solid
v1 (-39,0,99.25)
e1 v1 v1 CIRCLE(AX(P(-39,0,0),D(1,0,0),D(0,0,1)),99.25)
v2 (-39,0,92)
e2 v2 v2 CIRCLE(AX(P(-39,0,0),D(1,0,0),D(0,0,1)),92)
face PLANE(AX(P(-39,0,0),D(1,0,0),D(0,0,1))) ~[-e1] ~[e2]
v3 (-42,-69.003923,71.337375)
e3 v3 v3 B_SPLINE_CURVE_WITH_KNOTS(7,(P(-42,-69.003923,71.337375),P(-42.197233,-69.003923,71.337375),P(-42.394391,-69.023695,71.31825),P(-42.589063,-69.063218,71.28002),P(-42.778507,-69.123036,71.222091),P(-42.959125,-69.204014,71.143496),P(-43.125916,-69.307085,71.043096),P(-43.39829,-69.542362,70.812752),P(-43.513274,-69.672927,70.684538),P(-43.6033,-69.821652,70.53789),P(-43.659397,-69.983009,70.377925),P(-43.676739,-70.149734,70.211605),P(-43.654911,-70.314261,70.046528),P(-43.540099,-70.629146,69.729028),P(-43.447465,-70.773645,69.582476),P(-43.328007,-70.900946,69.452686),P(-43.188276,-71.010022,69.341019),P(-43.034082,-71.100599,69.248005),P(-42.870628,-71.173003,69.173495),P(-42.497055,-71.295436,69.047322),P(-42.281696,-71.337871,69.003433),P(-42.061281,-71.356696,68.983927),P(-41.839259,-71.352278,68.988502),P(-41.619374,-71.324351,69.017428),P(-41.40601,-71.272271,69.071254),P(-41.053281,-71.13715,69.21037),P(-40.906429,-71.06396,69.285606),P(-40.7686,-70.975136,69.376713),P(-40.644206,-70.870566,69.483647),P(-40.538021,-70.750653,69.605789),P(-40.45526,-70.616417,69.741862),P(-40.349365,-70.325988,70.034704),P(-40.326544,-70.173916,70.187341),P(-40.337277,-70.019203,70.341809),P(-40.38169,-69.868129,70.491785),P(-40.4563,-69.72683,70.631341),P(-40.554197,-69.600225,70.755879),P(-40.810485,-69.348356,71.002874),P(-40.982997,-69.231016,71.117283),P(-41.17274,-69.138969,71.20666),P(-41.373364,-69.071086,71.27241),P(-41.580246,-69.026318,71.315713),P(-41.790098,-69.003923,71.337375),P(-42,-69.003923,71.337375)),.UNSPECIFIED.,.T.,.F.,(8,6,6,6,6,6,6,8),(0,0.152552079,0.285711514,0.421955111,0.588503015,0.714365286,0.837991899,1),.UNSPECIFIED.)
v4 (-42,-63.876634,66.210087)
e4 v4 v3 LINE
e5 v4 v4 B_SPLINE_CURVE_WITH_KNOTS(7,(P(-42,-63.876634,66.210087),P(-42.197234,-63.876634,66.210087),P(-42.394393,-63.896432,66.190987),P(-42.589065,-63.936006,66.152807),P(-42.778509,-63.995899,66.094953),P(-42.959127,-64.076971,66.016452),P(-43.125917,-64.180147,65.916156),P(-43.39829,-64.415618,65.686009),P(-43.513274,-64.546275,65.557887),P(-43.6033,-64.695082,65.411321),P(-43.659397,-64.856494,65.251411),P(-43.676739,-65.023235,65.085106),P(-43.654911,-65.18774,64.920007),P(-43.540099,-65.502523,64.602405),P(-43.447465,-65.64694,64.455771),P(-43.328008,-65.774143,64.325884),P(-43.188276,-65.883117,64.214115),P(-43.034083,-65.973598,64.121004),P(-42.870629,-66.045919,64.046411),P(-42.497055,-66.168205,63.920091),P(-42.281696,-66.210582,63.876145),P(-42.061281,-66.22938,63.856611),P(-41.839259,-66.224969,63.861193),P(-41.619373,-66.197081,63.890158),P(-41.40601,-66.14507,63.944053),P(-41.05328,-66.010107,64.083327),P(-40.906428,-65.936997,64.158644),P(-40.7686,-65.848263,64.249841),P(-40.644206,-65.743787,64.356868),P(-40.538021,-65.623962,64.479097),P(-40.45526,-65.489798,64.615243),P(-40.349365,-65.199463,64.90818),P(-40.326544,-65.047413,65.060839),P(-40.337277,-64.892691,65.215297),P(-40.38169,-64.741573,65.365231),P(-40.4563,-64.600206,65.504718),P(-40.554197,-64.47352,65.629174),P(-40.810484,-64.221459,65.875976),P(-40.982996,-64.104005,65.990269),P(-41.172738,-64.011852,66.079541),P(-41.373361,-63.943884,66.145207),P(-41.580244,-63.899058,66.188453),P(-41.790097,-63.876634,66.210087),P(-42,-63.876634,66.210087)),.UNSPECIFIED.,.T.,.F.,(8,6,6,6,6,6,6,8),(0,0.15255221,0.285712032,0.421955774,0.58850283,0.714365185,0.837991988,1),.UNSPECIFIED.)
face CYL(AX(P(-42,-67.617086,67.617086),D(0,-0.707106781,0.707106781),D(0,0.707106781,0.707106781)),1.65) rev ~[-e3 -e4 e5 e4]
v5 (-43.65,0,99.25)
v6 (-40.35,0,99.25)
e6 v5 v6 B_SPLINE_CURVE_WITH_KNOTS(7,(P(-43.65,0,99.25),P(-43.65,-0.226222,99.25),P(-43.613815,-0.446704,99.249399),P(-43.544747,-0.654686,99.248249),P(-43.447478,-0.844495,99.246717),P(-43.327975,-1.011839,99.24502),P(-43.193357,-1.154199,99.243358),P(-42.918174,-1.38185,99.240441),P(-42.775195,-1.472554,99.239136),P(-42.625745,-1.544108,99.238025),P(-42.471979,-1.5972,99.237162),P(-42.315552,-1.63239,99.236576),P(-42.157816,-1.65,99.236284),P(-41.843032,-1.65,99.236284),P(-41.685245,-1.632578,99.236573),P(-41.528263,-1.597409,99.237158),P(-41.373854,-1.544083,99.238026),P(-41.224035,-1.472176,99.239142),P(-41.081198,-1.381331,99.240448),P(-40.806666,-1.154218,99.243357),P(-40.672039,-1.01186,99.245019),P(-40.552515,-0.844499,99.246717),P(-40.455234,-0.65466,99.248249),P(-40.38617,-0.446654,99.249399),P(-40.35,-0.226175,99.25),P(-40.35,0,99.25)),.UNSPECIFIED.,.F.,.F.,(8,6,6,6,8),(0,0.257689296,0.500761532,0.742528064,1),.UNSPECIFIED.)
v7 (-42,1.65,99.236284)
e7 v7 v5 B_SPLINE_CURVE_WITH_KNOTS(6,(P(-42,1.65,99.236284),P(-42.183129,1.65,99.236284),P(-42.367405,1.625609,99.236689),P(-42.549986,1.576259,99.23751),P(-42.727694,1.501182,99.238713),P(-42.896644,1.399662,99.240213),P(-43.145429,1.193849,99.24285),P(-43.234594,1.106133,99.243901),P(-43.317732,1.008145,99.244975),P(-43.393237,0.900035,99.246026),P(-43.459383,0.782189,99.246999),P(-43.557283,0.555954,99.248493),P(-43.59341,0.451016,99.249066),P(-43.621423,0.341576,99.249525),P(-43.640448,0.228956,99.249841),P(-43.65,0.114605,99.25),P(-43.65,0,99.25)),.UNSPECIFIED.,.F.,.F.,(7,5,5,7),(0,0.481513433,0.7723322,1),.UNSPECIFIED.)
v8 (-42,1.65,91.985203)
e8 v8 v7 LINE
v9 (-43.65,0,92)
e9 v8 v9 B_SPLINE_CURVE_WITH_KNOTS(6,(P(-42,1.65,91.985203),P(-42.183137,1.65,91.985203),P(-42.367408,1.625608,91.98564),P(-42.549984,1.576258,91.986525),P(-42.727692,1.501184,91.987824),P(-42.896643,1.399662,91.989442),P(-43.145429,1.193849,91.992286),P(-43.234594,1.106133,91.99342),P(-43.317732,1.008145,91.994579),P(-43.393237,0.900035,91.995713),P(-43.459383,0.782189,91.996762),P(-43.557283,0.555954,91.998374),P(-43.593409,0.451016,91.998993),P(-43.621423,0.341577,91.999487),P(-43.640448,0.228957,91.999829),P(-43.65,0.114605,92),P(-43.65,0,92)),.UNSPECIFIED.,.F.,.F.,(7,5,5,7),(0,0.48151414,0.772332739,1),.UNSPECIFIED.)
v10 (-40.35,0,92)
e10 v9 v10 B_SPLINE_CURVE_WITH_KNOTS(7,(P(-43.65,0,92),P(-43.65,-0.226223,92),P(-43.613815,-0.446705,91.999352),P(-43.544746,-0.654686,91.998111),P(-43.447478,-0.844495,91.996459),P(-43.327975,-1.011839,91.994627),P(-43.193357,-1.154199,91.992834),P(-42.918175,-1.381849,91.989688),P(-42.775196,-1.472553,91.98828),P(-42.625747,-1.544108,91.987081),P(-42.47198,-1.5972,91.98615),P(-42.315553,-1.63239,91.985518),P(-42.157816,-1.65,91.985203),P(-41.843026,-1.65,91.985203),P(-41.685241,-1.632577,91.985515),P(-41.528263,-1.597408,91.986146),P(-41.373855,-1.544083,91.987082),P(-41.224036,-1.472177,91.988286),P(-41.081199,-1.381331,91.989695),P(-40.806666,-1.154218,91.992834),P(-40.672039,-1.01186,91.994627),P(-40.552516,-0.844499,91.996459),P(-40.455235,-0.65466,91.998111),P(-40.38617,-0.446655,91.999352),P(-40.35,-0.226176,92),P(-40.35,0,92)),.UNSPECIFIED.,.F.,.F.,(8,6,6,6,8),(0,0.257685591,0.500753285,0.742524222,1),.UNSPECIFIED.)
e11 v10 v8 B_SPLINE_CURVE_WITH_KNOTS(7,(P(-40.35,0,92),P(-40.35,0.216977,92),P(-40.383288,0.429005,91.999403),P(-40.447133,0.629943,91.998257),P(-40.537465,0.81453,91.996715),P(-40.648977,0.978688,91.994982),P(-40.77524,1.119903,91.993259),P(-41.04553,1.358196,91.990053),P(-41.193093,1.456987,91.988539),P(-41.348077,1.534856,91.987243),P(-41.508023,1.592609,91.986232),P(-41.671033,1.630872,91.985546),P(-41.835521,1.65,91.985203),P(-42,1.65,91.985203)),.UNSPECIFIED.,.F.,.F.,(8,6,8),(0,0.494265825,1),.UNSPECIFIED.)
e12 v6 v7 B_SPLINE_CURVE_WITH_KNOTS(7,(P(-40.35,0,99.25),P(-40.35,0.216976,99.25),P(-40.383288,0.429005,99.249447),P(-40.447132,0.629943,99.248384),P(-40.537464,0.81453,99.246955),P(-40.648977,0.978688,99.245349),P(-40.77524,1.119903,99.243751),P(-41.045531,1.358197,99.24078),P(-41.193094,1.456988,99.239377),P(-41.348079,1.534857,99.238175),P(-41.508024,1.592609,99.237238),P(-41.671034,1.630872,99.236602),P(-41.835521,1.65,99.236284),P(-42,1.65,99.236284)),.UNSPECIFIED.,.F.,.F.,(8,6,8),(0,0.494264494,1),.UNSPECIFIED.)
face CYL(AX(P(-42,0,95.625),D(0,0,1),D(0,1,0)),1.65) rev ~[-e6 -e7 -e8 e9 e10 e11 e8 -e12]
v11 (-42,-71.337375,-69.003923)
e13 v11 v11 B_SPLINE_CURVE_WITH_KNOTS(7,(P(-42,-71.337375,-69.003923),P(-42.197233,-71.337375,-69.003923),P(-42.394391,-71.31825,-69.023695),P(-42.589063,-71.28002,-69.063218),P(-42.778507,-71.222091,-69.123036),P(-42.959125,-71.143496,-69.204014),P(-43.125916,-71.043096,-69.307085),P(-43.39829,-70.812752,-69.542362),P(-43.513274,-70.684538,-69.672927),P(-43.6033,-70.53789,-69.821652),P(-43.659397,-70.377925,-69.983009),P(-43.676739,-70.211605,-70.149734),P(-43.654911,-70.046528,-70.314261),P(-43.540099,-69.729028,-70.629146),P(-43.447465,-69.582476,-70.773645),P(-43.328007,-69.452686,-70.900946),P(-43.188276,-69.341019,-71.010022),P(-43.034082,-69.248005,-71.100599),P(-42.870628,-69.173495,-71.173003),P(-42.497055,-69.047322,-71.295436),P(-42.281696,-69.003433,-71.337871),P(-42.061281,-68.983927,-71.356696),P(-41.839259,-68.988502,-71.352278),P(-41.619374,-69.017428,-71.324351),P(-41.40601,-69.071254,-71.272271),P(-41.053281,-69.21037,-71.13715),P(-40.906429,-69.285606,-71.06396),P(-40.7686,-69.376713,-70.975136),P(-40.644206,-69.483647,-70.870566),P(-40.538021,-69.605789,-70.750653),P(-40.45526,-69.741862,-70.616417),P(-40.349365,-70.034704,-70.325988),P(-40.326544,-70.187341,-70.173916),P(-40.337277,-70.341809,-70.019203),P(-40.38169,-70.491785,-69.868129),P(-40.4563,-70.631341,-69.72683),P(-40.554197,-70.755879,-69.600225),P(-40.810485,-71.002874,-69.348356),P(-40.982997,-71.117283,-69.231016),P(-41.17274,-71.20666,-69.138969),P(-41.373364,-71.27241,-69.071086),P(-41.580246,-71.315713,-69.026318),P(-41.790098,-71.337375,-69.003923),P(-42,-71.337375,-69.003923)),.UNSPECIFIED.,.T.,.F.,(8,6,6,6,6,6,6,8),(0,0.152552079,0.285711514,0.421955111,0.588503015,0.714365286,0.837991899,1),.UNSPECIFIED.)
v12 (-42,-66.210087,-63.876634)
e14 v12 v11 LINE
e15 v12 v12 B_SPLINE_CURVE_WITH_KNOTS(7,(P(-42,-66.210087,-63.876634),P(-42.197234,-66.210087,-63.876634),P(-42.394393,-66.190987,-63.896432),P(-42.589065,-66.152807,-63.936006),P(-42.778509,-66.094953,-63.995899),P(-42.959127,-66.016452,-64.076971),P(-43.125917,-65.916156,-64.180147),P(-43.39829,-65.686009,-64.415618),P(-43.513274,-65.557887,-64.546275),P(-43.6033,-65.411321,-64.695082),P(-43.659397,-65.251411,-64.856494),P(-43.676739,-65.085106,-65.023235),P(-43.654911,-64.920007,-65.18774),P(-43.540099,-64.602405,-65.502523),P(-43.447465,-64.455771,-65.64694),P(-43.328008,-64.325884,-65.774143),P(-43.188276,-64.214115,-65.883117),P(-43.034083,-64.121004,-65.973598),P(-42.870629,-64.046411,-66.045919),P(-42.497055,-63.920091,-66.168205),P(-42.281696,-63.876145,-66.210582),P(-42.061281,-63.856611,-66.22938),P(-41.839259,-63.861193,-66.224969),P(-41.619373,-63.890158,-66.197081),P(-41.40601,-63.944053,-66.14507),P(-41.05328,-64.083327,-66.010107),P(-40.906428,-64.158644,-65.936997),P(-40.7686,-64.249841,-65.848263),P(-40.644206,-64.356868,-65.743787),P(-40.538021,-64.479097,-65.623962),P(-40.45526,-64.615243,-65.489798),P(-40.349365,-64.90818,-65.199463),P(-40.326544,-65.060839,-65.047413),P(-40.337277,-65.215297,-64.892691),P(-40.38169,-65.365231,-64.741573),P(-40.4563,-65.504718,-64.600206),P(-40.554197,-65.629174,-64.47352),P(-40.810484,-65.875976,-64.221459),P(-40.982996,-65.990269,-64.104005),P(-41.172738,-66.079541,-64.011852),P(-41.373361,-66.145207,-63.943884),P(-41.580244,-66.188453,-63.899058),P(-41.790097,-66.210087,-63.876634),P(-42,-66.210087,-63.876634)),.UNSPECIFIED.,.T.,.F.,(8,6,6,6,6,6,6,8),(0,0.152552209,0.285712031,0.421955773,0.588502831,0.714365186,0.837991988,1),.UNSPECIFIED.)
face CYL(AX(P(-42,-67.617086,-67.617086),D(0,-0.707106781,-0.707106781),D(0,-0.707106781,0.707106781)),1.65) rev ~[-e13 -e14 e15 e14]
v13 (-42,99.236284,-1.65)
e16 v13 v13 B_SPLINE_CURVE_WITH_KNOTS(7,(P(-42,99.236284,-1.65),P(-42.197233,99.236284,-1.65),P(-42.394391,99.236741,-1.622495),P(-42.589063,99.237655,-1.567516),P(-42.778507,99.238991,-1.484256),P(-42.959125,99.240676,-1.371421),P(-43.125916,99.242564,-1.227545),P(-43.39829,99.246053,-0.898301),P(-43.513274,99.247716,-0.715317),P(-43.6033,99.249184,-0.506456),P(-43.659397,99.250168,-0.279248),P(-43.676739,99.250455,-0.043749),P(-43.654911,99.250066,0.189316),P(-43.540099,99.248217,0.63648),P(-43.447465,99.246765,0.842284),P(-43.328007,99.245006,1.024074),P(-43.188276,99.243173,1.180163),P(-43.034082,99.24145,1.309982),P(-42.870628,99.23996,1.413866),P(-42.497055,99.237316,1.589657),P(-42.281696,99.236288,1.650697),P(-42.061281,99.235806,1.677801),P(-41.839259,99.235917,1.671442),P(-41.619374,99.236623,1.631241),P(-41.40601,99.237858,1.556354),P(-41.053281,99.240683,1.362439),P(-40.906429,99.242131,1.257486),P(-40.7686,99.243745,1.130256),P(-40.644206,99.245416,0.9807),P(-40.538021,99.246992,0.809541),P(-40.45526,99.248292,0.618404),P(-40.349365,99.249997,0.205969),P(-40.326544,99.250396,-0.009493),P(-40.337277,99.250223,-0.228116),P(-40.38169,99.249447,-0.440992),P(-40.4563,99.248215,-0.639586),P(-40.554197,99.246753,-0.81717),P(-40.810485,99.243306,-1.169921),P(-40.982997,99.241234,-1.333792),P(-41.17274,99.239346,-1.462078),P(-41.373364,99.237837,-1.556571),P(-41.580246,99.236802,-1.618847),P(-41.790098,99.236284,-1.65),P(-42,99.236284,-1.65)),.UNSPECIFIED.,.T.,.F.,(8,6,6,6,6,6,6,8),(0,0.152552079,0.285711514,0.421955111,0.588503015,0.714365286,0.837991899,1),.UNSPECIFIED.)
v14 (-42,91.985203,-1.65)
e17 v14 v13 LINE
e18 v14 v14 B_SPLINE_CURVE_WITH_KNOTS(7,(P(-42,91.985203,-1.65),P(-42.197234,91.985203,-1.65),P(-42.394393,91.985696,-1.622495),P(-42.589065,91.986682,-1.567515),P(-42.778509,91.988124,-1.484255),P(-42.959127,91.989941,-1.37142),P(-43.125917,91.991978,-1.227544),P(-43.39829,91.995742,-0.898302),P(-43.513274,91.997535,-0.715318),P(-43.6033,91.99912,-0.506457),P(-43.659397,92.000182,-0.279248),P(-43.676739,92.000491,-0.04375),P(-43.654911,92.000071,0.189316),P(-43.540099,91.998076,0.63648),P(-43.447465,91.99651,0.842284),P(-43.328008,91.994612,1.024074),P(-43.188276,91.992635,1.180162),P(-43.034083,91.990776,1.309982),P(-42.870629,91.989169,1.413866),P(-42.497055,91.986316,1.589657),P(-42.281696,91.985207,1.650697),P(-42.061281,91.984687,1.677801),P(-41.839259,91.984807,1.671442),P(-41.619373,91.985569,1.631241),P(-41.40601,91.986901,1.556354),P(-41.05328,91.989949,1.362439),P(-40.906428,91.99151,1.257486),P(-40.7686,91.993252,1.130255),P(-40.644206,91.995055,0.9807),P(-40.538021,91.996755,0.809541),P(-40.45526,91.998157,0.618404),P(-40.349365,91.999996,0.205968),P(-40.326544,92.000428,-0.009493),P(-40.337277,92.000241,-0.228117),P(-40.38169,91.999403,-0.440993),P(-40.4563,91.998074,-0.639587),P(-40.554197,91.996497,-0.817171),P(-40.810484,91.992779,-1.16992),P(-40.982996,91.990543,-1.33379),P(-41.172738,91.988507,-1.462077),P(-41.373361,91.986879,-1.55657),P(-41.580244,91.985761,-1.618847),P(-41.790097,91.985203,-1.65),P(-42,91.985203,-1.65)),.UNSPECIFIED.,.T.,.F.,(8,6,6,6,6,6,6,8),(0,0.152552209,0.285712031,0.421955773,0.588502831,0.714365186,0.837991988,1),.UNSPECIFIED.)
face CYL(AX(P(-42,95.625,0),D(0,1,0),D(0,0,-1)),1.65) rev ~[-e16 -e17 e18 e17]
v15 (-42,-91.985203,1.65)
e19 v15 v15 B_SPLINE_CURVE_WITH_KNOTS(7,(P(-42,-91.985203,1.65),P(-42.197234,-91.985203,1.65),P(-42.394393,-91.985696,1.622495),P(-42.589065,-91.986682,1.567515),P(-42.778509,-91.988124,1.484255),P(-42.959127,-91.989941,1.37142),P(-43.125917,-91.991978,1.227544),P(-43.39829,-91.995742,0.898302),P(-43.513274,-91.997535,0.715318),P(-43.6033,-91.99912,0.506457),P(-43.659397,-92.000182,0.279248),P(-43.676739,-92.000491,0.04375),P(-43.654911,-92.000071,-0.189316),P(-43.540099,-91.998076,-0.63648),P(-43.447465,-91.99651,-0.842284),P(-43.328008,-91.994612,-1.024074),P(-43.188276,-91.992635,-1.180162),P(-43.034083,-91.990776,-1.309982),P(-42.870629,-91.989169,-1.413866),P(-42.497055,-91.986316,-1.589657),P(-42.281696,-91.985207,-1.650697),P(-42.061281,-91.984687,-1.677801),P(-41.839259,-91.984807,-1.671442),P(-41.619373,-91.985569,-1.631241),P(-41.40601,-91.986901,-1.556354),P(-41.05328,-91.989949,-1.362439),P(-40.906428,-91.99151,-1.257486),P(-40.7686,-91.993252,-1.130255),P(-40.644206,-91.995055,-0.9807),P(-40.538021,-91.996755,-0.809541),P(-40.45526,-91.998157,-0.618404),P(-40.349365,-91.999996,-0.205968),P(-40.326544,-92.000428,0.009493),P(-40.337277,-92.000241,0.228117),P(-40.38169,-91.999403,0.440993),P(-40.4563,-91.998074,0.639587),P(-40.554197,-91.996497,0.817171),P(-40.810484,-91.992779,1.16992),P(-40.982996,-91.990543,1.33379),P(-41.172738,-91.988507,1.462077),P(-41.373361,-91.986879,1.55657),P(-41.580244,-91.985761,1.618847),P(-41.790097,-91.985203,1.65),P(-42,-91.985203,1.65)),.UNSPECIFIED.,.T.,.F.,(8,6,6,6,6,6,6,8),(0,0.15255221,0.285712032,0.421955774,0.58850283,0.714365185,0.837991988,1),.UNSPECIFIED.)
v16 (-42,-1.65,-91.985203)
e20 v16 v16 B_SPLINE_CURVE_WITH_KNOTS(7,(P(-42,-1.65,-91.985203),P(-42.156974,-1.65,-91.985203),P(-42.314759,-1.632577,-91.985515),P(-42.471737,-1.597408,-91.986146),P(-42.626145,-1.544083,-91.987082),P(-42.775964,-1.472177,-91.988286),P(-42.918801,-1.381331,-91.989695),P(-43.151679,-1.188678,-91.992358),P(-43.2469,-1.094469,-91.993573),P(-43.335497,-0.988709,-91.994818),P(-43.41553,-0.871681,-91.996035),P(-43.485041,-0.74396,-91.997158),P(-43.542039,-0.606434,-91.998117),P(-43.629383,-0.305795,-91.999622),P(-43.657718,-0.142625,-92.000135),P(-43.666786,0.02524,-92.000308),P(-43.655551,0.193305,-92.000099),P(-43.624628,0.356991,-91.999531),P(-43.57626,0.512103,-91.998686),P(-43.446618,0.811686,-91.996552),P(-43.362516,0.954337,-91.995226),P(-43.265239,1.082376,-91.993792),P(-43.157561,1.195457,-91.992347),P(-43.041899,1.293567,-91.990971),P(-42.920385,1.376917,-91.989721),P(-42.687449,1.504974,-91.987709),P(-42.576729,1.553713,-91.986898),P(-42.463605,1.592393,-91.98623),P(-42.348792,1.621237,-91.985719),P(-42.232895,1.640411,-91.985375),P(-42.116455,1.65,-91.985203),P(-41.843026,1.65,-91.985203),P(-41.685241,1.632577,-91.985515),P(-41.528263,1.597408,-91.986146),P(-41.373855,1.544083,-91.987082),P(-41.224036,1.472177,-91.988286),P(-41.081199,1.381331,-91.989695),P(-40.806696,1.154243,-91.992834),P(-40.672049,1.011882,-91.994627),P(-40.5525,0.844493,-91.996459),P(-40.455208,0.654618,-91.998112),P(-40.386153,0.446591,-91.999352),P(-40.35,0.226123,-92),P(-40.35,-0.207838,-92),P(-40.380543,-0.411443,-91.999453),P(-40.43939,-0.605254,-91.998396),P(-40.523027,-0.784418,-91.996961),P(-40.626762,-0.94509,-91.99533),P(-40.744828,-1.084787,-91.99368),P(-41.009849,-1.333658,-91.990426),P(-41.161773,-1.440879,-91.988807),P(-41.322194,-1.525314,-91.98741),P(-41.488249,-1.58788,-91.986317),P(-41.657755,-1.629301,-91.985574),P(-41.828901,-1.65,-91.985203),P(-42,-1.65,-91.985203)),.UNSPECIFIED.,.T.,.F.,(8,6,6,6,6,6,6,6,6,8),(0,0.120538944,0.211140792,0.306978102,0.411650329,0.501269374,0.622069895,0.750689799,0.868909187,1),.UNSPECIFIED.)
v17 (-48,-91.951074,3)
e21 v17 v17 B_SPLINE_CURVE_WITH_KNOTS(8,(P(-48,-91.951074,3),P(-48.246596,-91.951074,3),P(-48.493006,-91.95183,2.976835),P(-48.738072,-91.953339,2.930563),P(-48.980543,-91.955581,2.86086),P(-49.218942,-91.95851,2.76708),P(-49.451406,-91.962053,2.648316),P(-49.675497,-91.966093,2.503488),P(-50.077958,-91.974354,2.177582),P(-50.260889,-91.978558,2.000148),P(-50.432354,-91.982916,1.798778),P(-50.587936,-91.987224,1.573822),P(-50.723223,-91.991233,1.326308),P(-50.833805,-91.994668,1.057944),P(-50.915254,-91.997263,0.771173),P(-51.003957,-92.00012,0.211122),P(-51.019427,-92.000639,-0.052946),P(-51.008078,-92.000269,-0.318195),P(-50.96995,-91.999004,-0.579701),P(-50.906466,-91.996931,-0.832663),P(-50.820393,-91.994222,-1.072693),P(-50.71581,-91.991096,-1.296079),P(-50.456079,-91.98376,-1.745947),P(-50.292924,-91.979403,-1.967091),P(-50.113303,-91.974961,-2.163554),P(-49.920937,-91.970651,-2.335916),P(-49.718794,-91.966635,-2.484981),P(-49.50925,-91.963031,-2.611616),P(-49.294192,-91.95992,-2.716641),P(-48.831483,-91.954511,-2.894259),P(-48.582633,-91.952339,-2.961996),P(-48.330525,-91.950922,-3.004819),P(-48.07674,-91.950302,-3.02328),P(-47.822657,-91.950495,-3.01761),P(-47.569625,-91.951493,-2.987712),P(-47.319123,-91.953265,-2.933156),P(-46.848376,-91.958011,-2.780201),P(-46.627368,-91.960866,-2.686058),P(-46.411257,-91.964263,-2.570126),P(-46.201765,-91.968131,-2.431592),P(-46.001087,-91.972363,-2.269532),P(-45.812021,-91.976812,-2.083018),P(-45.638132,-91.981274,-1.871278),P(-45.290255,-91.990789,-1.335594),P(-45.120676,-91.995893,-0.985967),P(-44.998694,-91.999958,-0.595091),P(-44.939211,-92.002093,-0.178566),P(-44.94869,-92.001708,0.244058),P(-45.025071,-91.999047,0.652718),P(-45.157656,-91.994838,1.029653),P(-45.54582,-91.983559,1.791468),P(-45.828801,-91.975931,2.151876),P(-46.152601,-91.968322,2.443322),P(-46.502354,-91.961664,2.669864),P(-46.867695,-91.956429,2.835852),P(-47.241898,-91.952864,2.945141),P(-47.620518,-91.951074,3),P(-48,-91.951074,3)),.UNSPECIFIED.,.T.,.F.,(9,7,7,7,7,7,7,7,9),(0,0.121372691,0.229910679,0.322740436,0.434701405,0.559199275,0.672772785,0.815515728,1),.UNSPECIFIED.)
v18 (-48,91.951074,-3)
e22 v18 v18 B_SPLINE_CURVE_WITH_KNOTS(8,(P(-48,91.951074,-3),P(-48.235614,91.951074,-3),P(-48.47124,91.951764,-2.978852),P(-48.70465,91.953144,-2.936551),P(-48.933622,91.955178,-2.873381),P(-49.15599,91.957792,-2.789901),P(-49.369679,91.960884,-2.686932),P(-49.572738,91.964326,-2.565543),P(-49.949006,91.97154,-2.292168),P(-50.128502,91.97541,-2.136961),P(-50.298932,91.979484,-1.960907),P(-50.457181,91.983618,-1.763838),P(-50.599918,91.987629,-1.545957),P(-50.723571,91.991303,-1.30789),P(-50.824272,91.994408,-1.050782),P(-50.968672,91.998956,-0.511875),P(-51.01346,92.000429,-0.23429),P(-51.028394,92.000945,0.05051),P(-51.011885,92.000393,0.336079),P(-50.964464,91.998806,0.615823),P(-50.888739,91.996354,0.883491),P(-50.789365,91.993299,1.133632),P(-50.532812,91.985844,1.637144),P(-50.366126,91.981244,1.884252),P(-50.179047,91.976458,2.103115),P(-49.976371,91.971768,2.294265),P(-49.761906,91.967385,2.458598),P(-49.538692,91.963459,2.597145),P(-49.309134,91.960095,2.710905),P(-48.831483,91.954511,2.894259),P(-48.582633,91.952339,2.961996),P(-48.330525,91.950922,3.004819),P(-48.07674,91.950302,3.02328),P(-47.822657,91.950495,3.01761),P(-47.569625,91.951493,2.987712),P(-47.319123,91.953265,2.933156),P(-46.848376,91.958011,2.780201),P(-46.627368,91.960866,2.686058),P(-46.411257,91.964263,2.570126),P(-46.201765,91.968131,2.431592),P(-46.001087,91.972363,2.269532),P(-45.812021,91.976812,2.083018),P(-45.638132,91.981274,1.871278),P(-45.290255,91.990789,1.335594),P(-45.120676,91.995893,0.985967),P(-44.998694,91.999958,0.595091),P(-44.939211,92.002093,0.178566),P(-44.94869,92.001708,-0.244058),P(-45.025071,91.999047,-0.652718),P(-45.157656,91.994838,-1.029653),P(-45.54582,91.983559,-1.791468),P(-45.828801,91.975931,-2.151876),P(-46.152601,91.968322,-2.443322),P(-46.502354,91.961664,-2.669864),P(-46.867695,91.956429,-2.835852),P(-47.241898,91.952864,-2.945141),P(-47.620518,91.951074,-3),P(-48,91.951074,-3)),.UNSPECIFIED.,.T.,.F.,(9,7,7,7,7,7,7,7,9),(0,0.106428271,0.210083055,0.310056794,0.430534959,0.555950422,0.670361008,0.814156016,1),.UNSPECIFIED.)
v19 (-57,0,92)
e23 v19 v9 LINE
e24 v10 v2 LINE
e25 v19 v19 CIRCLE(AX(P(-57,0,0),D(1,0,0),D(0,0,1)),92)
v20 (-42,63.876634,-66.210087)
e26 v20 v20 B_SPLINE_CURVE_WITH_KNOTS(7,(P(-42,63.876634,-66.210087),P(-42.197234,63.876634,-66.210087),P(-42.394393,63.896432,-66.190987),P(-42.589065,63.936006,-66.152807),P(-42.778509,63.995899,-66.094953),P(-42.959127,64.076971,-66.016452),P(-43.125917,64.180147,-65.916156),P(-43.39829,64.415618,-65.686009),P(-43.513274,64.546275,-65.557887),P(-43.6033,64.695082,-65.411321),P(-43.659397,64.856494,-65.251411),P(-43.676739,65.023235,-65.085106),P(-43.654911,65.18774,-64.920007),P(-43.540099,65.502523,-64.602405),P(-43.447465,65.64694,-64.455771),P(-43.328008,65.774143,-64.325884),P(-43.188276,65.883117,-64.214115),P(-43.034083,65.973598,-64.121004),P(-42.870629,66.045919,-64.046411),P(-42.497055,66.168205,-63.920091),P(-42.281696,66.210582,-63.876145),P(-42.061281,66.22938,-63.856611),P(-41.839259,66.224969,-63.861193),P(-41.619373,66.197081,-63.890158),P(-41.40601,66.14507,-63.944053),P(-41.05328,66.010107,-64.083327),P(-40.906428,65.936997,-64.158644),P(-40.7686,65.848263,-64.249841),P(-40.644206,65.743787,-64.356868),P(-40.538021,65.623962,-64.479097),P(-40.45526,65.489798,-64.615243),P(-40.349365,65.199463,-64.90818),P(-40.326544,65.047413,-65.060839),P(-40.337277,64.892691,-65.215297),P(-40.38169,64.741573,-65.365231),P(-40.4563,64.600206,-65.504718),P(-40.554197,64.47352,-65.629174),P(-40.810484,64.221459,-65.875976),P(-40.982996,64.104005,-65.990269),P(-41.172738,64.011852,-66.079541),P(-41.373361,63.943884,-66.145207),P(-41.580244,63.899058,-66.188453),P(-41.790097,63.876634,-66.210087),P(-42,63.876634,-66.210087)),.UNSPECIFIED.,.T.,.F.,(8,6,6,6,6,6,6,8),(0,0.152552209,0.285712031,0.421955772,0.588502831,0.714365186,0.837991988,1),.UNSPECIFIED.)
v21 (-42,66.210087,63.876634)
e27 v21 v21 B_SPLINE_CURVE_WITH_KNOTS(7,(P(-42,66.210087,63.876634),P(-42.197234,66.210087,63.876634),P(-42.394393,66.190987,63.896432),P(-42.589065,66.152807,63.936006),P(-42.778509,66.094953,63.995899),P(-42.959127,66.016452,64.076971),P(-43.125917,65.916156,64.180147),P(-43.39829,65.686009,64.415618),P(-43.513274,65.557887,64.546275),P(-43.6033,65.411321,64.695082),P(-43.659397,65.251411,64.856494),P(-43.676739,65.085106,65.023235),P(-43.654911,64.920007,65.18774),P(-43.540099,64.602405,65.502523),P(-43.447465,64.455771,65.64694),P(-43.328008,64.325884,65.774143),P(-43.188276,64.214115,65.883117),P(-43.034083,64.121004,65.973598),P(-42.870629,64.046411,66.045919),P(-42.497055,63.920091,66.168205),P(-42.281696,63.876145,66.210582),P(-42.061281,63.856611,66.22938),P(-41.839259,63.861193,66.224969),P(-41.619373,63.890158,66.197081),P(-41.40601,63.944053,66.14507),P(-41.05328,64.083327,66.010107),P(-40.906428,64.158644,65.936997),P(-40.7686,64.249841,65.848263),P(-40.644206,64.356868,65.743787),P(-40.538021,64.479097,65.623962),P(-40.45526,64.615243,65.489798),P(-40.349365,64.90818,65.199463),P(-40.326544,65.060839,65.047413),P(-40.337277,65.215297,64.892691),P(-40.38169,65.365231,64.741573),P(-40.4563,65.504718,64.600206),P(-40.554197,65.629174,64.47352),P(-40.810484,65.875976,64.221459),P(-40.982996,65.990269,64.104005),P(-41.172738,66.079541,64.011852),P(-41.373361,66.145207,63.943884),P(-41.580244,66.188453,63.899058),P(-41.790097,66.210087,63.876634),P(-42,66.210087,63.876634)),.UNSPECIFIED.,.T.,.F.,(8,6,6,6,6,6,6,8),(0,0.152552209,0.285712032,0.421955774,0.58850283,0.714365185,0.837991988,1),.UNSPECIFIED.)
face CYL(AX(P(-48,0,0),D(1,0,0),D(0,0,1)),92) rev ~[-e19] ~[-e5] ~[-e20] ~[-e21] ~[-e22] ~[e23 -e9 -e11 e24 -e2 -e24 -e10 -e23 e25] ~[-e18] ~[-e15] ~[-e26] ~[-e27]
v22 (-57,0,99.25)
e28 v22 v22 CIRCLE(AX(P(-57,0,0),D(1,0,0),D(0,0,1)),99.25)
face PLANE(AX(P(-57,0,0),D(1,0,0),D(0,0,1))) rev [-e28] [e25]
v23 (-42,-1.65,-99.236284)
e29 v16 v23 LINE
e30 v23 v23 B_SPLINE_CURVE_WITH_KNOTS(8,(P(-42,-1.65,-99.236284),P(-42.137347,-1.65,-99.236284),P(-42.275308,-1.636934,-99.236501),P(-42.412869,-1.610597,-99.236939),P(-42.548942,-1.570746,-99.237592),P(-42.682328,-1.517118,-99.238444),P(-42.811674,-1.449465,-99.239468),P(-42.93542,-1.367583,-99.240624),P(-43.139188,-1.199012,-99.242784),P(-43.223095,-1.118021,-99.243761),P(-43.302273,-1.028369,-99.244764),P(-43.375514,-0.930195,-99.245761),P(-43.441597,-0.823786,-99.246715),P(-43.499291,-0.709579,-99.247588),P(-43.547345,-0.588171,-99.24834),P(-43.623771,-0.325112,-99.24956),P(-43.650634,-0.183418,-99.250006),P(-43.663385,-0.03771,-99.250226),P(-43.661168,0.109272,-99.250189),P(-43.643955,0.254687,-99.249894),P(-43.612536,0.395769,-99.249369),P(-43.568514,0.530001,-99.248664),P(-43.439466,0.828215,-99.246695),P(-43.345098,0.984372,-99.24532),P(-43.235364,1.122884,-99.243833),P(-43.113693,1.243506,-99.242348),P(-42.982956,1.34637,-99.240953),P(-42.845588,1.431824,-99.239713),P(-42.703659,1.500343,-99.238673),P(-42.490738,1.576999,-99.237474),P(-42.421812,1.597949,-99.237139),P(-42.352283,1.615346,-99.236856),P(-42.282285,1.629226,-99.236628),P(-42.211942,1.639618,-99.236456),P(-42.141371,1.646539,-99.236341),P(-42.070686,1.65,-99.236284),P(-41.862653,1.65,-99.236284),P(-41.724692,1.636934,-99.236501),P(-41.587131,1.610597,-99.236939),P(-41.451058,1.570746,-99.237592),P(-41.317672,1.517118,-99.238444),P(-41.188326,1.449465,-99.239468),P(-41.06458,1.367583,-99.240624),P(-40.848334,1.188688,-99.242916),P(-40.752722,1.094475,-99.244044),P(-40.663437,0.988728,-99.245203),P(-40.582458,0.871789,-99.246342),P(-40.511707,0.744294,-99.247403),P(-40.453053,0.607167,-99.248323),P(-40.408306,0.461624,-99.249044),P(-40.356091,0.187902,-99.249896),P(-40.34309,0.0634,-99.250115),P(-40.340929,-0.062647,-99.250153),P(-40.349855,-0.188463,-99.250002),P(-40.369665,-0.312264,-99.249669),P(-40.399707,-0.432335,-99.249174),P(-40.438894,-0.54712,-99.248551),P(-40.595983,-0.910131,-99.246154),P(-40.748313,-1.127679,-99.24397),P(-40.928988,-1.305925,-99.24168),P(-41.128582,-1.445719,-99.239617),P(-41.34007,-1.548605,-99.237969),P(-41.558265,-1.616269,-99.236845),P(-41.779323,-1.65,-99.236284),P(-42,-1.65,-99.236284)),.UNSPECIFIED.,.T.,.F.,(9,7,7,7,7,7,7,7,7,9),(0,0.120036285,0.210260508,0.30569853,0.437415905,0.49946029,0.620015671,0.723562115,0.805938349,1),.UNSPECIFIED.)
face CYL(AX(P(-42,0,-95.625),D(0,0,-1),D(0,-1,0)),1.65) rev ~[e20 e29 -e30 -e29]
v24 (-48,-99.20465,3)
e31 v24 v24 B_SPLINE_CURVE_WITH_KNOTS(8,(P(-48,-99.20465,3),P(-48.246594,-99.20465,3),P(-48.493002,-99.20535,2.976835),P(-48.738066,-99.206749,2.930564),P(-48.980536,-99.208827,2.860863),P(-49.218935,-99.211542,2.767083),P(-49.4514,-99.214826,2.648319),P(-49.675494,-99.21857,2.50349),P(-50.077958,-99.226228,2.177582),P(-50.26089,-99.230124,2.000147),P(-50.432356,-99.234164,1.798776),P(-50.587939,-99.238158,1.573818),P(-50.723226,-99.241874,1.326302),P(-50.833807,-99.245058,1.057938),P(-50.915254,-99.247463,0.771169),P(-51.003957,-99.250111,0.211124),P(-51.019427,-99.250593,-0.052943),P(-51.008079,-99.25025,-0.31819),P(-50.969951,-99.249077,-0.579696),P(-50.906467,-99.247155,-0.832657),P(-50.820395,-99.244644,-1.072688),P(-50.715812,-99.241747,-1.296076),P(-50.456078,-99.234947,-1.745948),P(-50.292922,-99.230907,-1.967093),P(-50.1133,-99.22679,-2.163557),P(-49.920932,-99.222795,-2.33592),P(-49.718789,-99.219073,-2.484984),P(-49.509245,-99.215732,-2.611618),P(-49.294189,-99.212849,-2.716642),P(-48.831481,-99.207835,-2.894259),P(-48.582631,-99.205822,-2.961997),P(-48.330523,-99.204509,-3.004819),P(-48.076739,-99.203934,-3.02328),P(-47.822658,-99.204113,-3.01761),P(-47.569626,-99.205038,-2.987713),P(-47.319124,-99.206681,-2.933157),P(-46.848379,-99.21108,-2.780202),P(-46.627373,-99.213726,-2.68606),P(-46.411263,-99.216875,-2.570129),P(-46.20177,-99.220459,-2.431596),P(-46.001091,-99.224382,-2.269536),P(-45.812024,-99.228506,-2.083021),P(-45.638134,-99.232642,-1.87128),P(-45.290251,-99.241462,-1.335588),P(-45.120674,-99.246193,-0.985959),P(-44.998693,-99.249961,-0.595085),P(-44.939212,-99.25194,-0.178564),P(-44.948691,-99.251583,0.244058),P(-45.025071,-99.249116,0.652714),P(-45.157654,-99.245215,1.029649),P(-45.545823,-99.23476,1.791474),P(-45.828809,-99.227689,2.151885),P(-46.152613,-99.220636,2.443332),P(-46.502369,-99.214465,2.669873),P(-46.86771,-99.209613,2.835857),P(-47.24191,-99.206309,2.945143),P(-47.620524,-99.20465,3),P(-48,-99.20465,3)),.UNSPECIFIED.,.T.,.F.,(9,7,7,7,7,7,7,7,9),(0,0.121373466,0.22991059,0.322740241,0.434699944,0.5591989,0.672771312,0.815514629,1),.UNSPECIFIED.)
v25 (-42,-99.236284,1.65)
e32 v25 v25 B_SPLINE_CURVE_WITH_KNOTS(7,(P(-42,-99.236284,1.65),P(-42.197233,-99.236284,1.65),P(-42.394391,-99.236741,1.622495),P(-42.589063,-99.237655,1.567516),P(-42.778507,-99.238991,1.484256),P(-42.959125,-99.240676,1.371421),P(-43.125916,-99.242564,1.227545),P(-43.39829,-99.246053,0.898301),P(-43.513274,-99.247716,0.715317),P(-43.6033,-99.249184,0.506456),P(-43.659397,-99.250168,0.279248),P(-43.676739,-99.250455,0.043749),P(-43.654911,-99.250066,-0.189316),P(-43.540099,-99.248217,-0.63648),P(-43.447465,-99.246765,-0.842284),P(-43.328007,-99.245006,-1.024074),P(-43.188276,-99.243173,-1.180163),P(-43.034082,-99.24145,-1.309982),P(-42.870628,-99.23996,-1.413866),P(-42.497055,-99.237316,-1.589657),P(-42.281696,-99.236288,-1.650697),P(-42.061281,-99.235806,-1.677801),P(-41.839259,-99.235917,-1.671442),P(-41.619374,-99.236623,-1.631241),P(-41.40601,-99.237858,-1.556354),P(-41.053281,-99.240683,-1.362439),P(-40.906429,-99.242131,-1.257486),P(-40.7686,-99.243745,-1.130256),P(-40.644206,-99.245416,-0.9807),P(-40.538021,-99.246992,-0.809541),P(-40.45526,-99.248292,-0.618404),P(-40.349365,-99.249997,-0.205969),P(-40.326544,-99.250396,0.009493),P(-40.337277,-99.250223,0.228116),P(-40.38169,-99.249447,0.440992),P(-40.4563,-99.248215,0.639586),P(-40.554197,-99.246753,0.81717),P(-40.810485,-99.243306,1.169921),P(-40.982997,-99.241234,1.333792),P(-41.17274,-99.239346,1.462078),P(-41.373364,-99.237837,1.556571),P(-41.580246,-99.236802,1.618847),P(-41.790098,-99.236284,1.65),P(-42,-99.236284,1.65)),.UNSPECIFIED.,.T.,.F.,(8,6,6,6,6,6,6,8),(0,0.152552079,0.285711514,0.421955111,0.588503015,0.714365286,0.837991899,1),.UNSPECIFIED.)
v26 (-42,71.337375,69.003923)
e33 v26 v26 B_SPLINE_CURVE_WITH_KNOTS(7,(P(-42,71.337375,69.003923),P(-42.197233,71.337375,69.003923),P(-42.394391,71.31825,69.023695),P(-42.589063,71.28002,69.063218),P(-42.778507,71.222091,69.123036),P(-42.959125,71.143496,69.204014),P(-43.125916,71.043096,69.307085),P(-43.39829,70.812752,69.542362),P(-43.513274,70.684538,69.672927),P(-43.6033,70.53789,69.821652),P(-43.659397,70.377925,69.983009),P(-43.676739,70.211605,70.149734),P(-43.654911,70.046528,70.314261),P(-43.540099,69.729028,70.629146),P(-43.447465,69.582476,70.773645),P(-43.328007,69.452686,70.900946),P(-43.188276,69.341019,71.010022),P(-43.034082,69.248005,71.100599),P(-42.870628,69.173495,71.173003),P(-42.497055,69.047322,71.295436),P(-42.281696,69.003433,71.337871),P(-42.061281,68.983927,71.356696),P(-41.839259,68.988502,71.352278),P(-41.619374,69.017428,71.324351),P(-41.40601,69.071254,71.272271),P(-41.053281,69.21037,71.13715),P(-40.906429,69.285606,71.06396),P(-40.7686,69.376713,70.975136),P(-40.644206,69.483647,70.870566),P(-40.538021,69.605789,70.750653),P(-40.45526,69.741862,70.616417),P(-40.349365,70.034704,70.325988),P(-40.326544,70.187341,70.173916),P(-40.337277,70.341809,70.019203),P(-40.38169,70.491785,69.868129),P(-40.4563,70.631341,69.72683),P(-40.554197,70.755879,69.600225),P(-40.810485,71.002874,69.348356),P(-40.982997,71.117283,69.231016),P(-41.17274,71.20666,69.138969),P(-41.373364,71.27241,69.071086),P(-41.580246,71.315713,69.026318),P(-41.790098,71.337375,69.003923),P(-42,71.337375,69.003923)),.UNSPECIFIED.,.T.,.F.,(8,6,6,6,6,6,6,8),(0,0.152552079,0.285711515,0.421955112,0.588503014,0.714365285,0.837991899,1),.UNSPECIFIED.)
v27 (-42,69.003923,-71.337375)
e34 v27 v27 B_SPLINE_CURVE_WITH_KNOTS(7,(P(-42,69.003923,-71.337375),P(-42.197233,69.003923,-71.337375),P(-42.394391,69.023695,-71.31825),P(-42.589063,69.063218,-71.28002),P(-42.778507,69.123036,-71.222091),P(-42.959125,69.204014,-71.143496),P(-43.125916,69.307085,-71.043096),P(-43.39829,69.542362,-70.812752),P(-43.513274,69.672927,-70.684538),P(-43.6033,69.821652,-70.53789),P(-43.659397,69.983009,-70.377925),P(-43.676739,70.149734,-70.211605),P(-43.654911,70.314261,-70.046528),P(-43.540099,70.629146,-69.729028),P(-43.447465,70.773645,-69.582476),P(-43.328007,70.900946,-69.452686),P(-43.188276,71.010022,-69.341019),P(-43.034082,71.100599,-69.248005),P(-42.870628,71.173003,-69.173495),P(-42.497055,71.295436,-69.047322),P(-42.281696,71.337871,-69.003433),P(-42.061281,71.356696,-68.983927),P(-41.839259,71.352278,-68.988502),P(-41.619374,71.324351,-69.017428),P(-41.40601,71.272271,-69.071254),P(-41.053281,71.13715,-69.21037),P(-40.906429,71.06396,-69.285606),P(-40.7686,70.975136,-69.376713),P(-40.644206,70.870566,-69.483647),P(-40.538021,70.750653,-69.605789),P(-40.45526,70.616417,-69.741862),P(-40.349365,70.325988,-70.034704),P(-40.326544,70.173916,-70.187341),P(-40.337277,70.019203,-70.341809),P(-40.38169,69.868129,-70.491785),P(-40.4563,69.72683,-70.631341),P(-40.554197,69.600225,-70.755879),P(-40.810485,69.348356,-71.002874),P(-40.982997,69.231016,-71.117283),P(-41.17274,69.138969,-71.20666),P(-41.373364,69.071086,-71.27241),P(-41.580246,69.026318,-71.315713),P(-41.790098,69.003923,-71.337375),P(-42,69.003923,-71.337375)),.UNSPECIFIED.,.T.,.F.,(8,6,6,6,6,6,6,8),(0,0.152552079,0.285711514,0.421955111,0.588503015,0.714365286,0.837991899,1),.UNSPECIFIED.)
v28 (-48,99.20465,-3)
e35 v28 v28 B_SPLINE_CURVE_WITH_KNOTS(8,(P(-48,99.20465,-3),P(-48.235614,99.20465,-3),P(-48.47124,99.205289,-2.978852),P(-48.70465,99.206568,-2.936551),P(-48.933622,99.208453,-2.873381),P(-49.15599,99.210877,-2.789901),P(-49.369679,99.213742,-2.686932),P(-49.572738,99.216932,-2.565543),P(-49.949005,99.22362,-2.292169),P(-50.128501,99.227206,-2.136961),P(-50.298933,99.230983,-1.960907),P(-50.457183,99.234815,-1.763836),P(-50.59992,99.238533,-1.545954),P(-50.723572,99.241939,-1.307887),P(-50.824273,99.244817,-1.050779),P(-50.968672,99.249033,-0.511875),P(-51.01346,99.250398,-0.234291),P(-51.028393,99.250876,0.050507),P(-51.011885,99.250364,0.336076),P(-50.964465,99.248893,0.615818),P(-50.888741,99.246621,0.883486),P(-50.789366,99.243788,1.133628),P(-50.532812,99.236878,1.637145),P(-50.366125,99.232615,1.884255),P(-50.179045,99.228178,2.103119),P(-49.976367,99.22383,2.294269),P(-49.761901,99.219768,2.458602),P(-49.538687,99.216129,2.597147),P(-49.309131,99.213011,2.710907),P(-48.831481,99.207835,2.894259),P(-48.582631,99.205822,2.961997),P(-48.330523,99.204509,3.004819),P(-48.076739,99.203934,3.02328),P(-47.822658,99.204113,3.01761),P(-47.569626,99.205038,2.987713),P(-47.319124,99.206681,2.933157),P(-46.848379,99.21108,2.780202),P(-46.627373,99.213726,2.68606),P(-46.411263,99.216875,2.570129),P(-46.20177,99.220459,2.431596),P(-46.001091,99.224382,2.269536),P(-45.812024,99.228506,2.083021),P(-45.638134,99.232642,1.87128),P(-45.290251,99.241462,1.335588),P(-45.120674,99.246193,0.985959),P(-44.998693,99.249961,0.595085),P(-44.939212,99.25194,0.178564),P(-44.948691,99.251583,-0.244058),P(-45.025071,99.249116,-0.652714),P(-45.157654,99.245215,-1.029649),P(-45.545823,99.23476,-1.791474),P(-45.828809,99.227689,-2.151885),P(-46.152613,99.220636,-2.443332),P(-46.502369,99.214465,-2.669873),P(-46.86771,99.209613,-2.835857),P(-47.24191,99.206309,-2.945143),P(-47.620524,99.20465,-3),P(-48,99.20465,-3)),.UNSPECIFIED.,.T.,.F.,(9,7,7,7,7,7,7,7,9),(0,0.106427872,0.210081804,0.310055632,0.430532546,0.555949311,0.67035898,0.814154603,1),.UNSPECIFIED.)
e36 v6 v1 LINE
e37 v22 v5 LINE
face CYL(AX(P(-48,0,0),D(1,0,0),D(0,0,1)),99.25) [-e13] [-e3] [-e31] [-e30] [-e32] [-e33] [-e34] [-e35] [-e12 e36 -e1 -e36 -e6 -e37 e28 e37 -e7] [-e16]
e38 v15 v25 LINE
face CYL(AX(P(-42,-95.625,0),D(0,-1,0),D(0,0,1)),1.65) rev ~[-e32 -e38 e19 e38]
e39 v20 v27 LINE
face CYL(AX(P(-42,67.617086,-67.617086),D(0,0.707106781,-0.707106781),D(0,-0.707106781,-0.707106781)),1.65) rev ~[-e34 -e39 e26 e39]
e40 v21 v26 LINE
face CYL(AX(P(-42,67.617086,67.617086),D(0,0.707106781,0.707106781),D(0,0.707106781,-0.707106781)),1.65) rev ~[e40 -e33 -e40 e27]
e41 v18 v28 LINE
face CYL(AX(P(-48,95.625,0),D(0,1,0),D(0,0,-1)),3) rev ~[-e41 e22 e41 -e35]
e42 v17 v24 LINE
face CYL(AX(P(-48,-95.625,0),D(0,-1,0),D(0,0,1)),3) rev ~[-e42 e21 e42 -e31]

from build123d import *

# Parameters (mm, degrees)
MOUNT_SKETCH_W       = 18
MOUNT_SKETCH_H       = 7.25
PIN_HOLE_SKETCH_W    = 3
PIN_HOLE_SKETCH_H    = 9.25
PIN_HOLES_X2_COUNT   = 2
SCREW_HOLE_SKETCH_W  = 1.65
SCREW_HOLE_SKETCH_H  = 9.25
SCREW_HOLES_X8_COUNT = 8


with BuildPart() as part:
    # Mount Sketch → Mount (revolve)
    with BuildSketch(Plane.XY, mode=Mode.PRIVATE) as mount_sk:
        with Locations((-48, 95.625)):
            Rectangle(MOUNT_SKETCH_W, MOUNT_SKETCH_H)
    revolve(mount_sk.sketch.rotate(Axis((-108, 0, 0), (1, 0, 0)), 90), axis=Axis((-108, 0, 0), (1, 0, 0)))

    # Pin Hole Sketch → Pin Hole (revolve, cut)
    with BuildSketch(Plane.XY, mode=Mode.PRIVATE) as pin_hole_sk:
        with Locations((-46.5, 95.625)):
            Rectangle(PIN_HOLE_SKETCH_W, PIN_HOLE_SKETCH_H)
    pin_hole = revolve(pin_hole_sk.sketch.rotate(Axis((-48, 82, 0), (0, 1, 0)), 90), axis=Axis((-48, 82, 0), (0, 1, 0)), mode=Mode.SUBTRACT)

    # Pin Holes x2: Pin Hole ×2 about axis
    pin_holes_x2_axis = Axis((-38.1, 0, 0), (-1, 0, 0))
    for i in range(1, PIN_HOLES_X2_COUNT):
        add(pin_hole.rotate(pin_holes_x2_axis, i * 360 / PIN_HOLES_X2_COUNT), mode=Mode.SUBTRACT)

    # Screw Hole Sketch → Screw Hole (revolve, cut)
    with BuildSketch(Plane.XY, mode=Mode.PRIVATE) as screw_hole_sk:
        with Locations((-41.175, 95.625)):
            Rectangle(SCREW_HOLE_SKETCH_W, SCREW_HOLE_SKETCH_H)
    screw_hole = revolve(screw_hole_sk.sketch.rotate(Axis((-42, 82, 0), (0, 1, 0)), 90), axis=Axis((-42, 82, 0), (0, 1, 0)), mode=Mode.SUBTRACT)

    # Screw Holes x8: Screw Hole ×8 about axis
    screw_holes_x8_axis = Axis((-38.1, 0, 0), (-1, 0, 0))
    for i in range(1, SCREW_HOLES_X8_COUNT):
        add(screw_hole.rotate(screw_holes_x8_axis, i * 360 / SCREW_HOLES_X8_COUNT), mode=Mode.SUBTRACT)


solid = part.part
